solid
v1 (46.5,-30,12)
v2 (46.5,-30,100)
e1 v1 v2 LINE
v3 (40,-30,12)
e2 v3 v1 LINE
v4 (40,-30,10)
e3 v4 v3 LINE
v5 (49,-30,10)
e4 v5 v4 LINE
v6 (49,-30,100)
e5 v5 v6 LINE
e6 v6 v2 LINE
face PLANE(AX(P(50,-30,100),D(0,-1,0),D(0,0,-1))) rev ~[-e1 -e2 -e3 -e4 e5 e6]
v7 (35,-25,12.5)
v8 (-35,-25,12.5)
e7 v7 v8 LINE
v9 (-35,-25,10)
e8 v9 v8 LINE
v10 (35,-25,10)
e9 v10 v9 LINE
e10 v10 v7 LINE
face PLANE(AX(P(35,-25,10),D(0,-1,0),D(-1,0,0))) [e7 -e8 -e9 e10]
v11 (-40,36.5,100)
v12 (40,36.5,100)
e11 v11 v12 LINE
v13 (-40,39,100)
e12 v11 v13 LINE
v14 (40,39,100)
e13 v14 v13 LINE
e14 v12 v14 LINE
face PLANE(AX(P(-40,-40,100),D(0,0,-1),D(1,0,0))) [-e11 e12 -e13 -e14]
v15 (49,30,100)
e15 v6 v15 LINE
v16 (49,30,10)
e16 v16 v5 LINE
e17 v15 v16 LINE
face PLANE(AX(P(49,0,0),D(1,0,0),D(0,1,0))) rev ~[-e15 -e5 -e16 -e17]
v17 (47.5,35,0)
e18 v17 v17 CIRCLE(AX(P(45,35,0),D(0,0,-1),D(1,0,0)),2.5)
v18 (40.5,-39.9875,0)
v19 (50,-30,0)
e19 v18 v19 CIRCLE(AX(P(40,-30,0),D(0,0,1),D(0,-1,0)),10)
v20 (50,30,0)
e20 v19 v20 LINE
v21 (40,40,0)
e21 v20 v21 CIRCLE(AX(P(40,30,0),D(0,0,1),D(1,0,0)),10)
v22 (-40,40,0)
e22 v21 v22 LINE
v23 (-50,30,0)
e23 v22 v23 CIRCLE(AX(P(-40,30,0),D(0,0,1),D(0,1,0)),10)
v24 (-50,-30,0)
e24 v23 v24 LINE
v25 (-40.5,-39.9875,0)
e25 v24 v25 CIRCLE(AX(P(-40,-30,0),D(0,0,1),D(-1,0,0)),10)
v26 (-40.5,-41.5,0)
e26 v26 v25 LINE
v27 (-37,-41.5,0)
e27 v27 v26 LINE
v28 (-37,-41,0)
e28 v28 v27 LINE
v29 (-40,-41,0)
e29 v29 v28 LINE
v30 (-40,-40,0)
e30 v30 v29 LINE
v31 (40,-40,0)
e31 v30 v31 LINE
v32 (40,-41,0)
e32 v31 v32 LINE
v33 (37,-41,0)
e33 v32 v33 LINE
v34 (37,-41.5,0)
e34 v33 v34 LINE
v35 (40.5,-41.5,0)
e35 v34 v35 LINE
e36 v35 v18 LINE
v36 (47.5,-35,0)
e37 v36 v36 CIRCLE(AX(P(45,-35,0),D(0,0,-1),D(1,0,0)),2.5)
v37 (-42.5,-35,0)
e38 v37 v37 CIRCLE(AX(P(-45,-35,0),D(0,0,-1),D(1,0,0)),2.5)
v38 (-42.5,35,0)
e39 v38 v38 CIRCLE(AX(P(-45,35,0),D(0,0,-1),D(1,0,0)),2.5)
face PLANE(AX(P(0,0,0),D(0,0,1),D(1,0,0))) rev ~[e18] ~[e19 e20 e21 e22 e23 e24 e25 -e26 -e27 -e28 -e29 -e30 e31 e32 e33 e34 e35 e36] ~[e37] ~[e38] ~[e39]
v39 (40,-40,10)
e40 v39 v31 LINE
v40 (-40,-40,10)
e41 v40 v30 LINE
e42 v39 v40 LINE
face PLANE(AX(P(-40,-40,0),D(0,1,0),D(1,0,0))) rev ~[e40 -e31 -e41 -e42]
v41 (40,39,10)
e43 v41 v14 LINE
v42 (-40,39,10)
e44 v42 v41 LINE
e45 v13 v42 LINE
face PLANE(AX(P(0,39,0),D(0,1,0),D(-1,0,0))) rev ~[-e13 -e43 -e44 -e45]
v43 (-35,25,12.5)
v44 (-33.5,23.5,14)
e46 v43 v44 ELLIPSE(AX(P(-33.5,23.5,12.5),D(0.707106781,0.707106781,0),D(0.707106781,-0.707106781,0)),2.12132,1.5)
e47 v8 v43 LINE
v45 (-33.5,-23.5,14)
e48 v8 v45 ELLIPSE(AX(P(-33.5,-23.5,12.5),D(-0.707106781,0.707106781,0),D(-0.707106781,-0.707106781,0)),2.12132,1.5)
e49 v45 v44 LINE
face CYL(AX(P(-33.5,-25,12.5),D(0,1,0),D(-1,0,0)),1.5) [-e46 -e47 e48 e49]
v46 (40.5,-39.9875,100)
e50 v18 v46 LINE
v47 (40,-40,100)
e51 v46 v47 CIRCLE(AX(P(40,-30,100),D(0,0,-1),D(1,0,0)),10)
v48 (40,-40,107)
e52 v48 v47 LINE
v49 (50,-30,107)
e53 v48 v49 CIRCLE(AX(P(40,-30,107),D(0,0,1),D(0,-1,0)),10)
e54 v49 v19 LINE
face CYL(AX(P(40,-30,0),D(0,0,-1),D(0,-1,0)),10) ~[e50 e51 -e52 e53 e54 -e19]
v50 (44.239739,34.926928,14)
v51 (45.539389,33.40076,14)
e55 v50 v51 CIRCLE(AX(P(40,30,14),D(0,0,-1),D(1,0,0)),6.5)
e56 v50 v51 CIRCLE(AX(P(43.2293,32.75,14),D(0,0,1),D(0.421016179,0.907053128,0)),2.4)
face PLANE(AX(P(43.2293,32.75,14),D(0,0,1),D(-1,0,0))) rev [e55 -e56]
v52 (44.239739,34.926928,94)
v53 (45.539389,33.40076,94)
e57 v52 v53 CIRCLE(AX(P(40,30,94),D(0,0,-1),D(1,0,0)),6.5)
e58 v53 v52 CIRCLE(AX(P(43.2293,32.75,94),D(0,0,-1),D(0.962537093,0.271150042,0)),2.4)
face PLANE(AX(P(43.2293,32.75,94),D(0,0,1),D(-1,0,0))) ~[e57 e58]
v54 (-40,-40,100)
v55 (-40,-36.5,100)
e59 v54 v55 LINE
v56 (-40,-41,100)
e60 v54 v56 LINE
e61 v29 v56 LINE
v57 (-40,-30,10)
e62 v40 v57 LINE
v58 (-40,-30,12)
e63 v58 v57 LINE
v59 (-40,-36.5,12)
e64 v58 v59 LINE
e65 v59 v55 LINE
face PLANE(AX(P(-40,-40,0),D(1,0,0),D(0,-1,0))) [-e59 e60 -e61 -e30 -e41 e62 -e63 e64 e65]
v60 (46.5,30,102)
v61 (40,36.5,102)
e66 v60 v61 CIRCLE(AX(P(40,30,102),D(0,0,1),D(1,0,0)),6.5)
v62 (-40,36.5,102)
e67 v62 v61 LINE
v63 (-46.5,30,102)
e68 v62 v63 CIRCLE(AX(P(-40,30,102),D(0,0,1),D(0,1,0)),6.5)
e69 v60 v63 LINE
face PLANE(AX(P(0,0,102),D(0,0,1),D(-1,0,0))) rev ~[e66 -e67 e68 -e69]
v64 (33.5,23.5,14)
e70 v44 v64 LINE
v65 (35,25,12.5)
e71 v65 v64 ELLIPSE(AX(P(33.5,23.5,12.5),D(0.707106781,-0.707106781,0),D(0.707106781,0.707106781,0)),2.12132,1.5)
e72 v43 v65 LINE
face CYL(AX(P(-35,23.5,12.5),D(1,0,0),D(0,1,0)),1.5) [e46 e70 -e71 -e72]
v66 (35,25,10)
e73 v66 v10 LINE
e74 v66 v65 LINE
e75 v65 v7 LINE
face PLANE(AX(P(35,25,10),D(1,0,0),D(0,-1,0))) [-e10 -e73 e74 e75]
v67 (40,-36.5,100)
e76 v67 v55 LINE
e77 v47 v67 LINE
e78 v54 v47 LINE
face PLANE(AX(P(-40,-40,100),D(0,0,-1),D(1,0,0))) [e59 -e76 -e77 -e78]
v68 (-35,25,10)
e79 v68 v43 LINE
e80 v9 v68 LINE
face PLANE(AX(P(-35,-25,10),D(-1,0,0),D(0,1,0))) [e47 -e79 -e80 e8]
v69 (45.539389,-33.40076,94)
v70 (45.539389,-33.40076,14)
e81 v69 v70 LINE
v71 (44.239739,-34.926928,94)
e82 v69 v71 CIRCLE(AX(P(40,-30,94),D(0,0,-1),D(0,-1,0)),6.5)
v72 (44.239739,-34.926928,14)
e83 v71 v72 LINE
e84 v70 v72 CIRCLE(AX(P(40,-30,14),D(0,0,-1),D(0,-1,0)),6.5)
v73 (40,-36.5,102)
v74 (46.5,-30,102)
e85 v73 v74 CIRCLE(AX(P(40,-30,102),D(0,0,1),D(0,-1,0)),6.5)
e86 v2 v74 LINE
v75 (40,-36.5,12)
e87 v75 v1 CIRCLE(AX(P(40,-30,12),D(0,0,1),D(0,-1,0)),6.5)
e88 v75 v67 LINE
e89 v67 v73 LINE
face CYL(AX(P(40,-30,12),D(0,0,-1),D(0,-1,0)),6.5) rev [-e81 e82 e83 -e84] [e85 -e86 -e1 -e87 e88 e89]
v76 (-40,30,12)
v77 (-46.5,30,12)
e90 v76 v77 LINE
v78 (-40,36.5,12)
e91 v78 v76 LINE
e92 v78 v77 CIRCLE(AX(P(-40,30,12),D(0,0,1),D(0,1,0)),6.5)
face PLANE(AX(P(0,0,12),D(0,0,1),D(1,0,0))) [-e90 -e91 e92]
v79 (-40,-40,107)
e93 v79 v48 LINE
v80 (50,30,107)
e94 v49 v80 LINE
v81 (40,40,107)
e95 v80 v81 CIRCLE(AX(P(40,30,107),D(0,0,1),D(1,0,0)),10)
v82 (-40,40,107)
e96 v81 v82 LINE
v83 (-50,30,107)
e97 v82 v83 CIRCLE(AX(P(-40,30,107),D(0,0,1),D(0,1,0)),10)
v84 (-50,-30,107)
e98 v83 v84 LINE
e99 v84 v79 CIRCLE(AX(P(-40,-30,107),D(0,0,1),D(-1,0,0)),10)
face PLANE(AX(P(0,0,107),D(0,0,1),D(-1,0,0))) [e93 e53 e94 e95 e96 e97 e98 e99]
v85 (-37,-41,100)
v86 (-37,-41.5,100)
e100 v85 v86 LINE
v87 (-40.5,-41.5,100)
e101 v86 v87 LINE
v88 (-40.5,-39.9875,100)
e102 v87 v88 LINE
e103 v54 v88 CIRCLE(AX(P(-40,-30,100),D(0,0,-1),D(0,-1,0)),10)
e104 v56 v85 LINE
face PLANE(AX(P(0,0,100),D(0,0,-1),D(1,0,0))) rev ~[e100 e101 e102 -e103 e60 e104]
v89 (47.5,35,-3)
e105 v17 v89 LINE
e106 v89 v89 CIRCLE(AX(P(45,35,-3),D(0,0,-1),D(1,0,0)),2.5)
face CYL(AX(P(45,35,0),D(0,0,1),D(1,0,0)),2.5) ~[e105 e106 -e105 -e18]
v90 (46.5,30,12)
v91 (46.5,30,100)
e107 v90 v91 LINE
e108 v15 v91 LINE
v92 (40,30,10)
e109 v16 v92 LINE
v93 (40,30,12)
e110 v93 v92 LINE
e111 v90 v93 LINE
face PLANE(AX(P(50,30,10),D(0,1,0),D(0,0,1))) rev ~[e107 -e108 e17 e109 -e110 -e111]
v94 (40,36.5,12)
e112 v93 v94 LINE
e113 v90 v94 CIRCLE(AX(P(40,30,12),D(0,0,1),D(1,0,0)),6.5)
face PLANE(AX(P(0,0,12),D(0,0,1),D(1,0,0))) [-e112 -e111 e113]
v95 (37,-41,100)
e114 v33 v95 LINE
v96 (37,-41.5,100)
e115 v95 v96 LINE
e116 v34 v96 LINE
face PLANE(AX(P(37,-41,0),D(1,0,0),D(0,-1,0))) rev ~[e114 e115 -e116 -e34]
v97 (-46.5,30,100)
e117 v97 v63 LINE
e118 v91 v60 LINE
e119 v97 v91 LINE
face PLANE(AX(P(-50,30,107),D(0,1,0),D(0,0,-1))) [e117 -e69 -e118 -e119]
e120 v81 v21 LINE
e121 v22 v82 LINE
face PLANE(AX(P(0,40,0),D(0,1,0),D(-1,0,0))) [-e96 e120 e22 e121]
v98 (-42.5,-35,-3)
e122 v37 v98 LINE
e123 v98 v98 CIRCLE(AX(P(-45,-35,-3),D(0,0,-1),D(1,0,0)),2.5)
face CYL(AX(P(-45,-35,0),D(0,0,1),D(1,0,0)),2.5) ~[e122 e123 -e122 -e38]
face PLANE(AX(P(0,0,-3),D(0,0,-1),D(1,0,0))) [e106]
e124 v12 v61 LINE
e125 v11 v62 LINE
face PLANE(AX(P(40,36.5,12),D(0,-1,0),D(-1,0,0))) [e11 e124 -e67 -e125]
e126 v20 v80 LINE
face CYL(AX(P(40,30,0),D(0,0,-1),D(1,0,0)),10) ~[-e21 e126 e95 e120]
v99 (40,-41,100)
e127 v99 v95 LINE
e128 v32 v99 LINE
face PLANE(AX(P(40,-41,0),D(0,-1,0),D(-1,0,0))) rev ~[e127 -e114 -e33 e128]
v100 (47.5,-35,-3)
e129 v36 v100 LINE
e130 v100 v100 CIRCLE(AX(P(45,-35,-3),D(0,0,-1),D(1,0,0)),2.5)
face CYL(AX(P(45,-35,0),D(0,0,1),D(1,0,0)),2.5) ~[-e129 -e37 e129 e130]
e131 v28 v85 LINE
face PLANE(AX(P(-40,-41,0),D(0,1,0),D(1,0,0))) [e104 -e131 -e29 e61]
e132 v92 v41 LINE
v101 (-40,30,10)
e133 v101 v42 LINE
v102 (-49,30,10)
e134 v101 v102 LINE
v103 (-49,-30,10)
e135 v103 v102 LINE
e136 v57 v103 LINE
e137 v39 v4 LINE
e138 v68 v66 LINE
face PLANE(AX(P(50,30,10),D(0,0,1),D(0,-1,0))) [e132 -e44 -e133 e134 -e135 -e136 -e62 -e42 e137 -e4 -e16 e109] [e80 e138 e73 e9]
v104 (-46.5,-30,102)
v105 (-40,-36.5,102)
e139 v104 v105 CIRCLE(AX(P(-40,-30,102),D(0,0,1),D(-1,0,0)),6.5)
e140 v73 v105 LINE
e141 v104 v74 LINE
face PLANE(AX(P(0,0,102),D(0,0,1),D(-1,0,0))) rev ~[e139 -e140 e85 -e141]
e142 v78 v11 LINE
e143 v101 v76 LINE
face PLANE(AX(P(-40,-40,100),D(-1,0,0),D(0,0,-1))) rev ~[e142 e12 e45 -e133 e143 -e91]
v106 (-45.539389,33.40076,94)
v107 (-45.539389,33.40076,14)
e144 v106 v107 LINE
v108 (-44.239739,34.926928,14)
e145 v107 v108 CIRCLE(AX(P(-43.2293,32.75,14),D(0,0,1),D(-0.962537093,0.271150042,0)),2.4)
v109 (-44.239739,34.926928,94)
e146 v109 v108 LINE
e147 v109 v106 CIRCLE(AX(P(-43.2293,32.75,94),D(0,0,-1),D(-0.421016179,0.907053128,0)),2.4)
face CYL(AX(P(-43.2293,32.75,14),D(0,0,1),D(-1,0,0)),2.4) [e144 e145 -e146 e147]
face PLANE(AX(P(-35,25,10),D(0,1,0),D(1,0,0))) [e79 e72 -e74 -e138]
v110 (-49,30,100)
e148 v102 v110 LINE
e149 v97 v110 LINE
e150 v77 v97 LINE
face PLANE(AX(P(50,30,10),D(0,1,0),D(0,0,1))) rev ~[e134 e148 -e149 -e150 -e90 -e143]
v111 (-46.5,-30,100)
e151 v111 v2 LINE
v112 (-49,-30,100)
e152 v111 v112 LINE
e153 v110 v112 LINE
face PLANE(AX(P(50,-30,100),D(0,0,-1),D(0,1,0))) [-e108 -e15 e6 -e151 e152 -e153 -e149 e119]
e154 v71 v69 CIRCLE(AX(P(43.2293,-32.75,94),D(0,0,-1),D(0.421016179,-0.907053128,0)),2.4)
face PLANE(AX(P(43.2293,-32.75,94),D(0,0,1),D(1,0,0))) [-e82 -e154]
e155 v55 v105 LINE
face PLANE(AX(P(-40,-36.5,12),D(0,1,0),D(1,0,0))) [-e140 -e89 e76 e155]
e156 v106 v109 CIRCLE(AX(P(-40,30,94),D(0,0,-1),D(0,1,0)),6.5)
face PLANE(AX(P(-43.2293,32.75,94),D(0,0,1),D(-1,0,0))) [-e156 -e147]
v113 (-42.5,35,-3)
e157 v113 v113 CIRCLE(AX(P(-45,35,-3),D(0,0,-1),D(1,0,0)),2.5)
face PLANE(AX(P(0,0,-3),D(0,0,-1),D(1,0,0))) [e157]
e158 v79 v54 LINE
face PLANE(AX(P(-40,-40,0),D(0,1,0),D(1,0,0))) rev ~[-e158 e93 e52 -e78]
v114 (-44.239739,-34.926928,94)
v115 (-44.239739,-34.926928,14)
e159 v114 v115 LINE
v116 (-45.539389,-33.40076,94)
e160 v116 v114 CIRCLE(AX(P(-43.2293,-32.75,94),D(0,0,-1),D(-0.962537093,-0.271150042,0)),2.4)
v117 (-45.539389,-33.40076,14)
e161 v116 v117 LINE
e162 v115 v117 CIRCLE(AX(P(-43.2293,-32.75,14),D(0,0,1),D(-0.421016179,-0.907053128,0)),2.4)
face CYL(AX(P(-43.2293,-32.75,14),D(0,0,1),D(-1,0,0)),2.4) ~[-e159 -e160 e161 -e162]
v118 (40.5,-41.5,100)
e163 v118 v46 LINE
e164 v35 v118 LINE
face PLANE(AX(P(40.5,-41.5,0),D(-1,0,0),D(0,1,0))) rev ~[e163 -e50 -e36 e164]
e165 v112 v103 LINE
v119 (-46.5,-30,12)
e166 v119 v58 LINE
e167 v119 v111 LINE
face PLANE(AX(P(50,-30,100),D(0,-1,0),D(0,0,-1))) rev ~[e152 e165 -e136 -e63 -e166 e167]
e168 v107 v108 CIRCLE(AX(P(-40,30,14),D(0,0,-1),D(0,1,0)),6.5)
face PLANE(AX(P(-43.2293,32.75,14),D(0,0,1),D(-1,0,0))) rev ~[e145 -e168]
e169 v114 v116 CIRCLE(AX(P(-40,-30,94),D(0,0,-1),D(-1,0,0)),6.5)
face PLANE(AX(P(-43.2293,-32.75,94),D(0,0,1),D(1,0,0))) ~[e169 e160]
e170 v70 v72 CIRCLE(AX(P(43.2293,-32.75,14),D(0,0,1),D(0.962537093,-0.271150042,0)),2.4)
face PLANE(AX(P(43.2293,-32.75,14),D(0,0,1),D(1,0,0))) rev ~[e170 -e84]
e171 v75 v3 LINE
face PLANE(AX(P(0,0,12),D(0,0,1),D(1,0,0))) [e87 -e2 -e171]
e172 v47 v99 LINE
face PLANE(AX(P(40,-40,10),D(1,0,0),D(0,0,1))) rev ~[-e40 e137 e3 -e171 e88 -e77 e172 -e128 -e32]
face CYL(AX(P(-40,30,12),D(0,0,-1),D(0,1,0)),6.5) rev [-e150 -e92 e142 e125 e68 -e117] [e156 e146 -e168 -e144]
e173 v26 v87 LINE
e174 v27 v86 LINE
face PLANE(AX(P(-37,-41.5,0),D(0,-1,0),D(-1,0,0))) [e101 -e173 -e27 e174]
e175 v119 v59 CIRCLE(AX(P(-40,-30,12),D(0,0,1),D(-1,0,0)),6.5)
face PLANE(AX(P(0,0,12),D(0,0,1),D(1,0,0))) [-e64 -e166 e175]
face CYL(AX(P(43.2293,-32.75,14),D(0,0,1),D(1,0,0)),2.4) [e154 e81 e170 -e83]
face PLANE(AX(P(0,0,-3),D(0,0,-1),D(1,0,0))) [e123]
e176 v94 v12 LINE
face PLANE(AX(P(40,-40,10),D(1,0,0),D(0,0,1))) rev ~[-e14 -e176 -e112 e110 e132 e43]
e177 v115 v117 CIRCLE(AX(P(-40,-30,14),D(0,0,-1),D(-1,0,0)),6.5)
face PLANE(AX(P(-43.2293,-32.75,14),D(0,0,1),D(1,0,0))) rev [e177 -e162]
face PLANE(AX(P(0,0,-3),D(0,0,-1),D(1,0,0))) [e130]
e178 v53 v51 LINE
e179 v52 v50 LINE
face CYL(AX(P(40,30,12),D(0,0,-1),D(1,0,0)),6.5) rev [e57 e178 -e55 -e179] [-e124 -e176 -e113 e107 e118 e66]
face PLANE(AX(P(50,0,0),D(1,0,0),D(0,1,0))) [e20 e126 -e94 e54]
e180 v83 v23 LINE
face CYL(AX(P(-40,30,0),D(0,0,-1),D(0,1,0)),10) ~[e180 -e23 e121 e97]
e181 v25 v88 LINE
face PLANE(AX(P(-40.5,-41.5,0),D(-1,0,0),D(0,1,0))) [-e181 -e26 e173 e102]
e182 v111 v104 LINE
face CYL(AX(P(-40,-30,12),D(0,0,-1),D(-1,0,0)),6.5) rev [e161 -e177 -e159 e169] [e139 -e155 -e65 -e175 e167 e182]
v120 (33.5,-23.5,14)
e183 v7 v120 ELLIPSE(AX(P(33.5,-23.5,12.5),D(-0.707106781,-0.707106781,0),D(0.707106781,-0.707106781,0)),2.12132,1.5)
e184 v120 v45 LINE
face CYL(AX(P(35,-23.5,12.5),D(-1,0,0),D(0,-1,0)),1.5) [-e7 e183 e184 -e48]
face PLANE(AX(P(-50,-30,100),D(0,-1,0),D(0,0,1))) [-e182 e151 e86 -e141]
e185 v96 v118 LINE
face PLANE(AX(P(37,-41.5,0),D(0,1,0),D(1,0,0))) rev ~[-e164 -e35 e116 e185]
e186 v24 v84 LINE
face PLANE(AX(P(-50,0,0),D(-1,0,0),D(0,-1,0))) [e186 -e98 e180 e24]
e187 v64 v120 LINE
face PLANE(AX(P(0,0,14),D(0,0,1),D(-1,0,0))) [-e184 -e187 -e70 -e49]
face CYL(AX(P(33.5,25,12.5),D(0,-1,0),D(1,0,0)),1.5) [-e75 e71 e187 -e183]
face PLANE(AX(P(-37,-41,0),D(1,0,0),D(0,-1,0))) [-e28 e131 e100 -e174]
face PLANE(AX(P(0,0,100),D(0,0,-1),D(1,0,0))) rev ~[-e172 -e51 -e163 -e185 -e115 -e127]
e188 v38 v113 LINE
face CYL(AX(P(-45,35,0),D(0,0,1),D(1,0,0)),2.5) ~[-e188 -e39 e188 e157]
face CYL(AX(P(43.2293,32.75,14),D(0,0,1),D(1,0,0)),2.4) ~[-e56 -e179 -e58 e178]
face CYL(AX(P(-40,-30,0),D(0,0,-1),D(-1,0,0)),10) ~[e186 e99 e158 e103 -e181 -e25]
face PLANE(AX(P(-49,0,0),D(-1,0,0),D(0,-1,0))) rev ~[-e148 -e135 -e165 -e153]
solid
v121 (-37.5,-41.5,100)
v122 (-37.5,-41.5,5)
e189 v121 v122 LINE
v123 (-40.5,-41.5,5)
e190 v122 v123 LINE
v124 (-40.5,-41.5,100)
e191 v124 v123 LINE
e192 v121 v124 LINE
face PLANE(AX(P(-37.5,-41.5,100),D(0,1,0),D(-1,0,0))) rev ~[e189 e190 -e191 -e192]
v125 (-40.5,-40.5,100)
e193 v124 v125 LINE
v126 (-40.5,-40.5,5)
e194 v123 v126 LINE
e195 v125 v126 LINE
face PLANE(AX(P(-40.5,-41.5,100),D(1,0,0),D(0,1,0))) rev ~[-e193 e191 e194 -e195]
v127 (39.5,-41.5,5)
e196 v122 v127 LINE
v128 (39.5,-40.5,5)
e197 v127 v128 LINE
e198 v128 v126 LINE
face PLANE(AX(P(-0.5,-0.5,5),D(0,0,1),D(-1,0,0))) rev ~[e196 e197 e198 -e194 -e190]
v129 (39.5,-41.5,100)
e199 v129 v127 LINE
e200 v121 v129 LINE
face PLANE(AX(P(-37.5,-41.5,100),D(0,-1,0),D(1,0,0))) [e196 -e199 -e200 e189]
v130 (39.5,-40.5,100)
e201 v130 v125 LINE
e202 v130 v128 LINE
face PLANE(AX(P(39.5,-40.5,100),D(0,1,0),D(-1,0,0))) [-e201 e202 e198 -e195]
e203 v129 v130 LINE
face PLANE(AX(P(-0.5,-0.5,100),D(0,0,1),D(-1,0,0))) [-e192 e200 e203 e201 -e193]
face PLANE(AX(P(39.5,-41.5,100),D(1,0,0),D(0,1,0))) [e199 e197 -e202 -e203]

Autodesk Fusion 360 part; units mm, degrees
sketch "Sketch1" plane through (0, 0, 0) normal (0, 0, 1) x (1, 0, 0)
  line L0 (40, 40) -> (-40, 40)
  line L1 (-50, 30) -> (-50, -30)
  line L2 (-40, -40) -> (40, -40)
  line L3 (50, -30) -> (50, 30)
  line L4 (50, 40) -> (-50, -40) construction
  line L5 (-50, 40) -> (50, -40) construction
  arc A0 (-40, 40) -> (-50, 30) centre (-40, 30) ccw
  arc A1 (50, 30) -> (40, 40) centre (40, 30) ccw
  arc A2 (40, -40) -> (50, -30) centre (40, -30) ccw
  arc A3 (-50, -30) -> (-40, -40) centre (-40, -30) ccw
  dimension "d1" = 100
  dimension "d2" = 80
  dimension "d3" = 10
  dimension "d4" = 10
extrude "Extrude1" add sketch "Sketch1" along normal blind 12 makes body 1
sketch "Sketch2" plane through (0, 0, 12) normal (0, 0, 1) x (-1, 0, 0)
  arc A0 (50, 30) -> (40, 40) centre (40, 30) ccw
  line L0 (40, 40) -> (-40, 40)
  arc A1 (-40, 40) -> (-50, 30) centre (-40, 30) ccw
  line L1 (-50, 30) -> (-50, -30)
  arc A2 (-50, -30) -> (-40, -40) centre (-40, -30) ccw
  line L2 (-40, -40) -> (40, -40)
  arc A3 (40, -40) -> (50, -30) centre (40, -30) ccw
  line L3 (50, -30) -> (50, 30)
  line L4 (46.5, -30) -> (46.5, 30)
  arc A4 (46.5, 30) -> (40, 36.5) centre (40, 30) ccw
  line L5 (40, 36.5) -> (-40, 36.5)
  arc A5 (-40, 36.5) -> (-46.5, 30) centre (-40, 30) ccw
  line L6 (-46.5, 30) -> (-46.5, -30)
  arc A6 (-46.5, -30) -> (-40, -36.5) centre (-40, -30) ccw
  line L7 (-40, -36.5) -> (40, -36.5)
  arc A7 (40, -36.5) -> (46.5, -30) centre (40, -30) ccw
  dimension "d7" = -3.5
extrude "Extrude2" add sketch "Sketch2" along normal blind 95 bodies 1
sketch "Sketch3" plane through (50, 0, 0) normal (1, 0, 0) x (0, 1, 0)
  line L0 (-30, 0) -> (30, 0)
  line L1 (30, 0) -> (30, 107)
  line L2 (30, 107) -> (-30, 107)
  line L3 (-30, 107) -> (-30, 0)
  line L4 (-30, 100) -> (30, 100)
  line L5 (30, 100) -> (30, 10)
  line L6 (30, 10) -> (-30, 10)
  line L7 (-30, 10) -> (-30, 100)
  dimension "d10" = 60
  dimension "d11" = 90
extrude "Extrude3" cut sketch "Sketch3" against normal blind 170 contours L1 L3 L4 L5 L6 L7 bodies 1
sketch "Sketch4" plane through (0, -40, 0) normal (0, -1, 0) x (1, 0, 0)
  line L0 (-40, 0) -> (40, 0)
  line L1 (40, 0) -> (40, 107)
  line L2 (40, 107) -> (-40, 107)
  line L3 (-40, 107) -> (-40, 0)
  line L4 (-40, 100) -> (40, 100)
  line L5 (40, 100) -> (40, 10)
  line L6 (40, 10) -> (-40, 10)
  line L7 (-40, 10) -> (-40, 100)
  dimension "d14" = 80
  dimension "d15" = 90
extrude "Extrude4" cut sketch "Sketch4" against normal blind 135 contours L1 L3 L4 L5 L6 L7 bodies 1
sketch "Sketch5" plane through (0, 0, 10) normal (0, 0, 1) x (-1, 0, 0)
  line L0 (-40, 30) -> (-50, 30)
  line L1 (-50, 30) -> (-50, -30)
  line L2 (-50, -30) -> (-40, -30)
  line L3 (-40, -30) -> (-40, -40)
  line L4 (-40, -40) -> (40, -40)
  line L5 (40, -40) -> (40, -30)
  line L6 (40, -30) -> (50, -30)
  line L7 (50, -30) -> (50, 30)
  line L8 (50, 30) -> (40, 30)
  line L9 (40, 30) -> (40, 40)
  line L10 (40, 40) -> (-40, 40)
  line L11 (-40, 40) -> (-40, 30)
  line L12 (35, -25) -> (-35, -25)
  line L13 (-35, -25) -> (-35, 25)
  line L14 (-35, 25) -> (35, 25)
  line L15 (35, 25) -> (35, -25)
  dimension "d18" = 70
  dimension "d19" = 50
extrude "Extrude5" add sketch "Sketch5" along normal blind 4 contours L12 L13 L14 L15 bodies 1
fillet "Fillet1" radius 1.5 1 faces at (-11.6667, 8.3333, 14) on bodies 1
cylinder "CylinderPrimitive1" add diameter 4.8 height 80 placed x (1, 0, 0) y (0, 1, 0) z (0, 0, 1) at (43.2293, -32.75, 14) bodies 1
mirror "Mirror1" about plane through (0, 0, 0) normal (1, 0, 0) of "CylinderPrimitive1"
mirror "Mirror2" about plane through (0, 0, 0) normal (0, 1, 0) of "Mirror1", "CylinderPrimitive1"
sketch "Sketch7" plane through (50, 0, 0) normal (1, 0, 0) x (0, 1, 0)
  line L0 (-30, 100) -> (30, 100)
  line L1 (30, 100) -> (30, 107)
  line L2 (30, 107) -> (-30, 107)
  line L3 (-30, 107) -> (-30, 100)
  line L4 (-30, 100) -> (30, 100)
  line L5 (30, 100) -> (30, 10)
  line L6 (30, 10) -> (-30, 10)
  line L7 (-30, 10) -> (-30, 100)
sketch "Sketch8" plane through (0, 40, 0) normal (0, 1, 0) x (-1, 0, 0)
  line L0 (-40, 100) -> (40, 100)
  line L1 (40, 100) -> (40, 107)
  line L2 (40, 107) -> (-40, 107)
  line L3 (-40, 107) -> (-40, 100)
  line L4 (-40, 100) -> (40, 100)
  line L5 (40, 100) -> (40, 10)
  line L6 (40, 10) -> (-40, 10)
  line L7 (-40, 10) -> (-40, 100)
sketch "Sketch9" plane through (-50, 0, 0) normal (-1, 0, 0) x (0, -1, 0)
  line L0 (-30, 100) -> (30, 100)
  line L1 (30, 100) -> (30, 107)
  line L2 (30, 107) -> (-30, 107)
  line L3 (-30, 107) -> (-30, 100)
  line L4 (-30, 100) -> (30, 100)
  line L5 (30, 100) -> (30, 10)
  line L6 (30, 10) -> (-30, 10)
  line L7 (-30, 10) -> (-30, 100)
extrude "Extrude6" add sketch "Sketch9" against normal blind 1 contours L0 L4 L5 L6 L7 bodies 1
extrude "Extrude7" add sketch "Sketch8" against normal blind 1 contours L0 L4 L5 L6 L7 bodies 1
extrude "Extrude8" add sketch "Sketch7" against normal blind 1 contours L0 L4 L5 L6 L7 bodies 1
sketch "Sketch10" plane through (0, 0, 107) normal (0, 0, 1) x (-1, 0, 0)
  arc A0 (40, -36.5) -> (46.5, -30) centre (40, -30) ccw
  line L0 (40, -36.5) -> (-40, -36.5)
  arc A1 (-46.5, -30) -> (-40, -36.5) centre (-40, -30) ccw
  line L1 (-46.5, -30) -> (-46.5, 30)
  arc A2 (-40, 36.5) -> (-46.5, 30) centre (-40, 30) ccw
  line L2 (-40, 36.5) -> (40, 36.5)
  arc A3 (46.5, 30) -> (40, 36.5) centre (40, 30) ccw
  line L3 (46.5, 30) -> (46.5, -30)
  line L4 (50, -30) -> (50, 30)
  arc A4 (50, 30) -> (40, 40) centre (40, 30) ccw
  line L5 (40, 40) -> (-40, 40)
  arc A5 (-40, 40) -> (-50, 30) centre (-40, 30) ccw
  line L6 (-50, 30) -> (-50, -30)
  arc A6 (-50, -30) -> (-40, -40) centre (-40, -30) ccw
  line L7 (-40, -40) -> (40, -40)
  arc A7 (40, -40) -> (50, -30) centre (40, -30) ccw
  line L8 (49.0553, -30) -> (49.0553, 30)
  arc A8 (49.0553, 30) -> (40, 39.0553) centre (40, 30) ccw
  line L9 (40, 39.0553) -> (-40, 39.0553)
  arc A9 (-40, 39.0553) -> (-49.0553, 30) centre (-40, 30) ccw
  line L10 (-49.0553, 30) -> (-49.0553, -30)
  arc A10 (-49.0553, -30) -> (-40, -39.0553) centre (-40, -30) ccw
  line L11 (-40, -39.0553) -> (40, -39.0553)
  arc A11 (40, -39.0553) -> (49.0553, -30) centre (40, -30) ccw
  dimension "d36" = -0.9447
extrude "Extrude9" add sketch "Sketch10" against normal blind 5 contours A0 L0 A1 L1 A2 L2 A3 L3 bodies 1
sketch "Sketch11" plane through (-50, 0, 0) normal (-1, 0, 0) x (0, -1, 0)
  line L0 (30, 0) -> (30, 107)
  line L1 (30, 107) -> (-30, 107)
  line L2 (-30, 107) -> (-30, 0)
  line L3 (-30, 0) -> (30, 0)
  line L4 (-30, 100) -> (30, 100)
  line L5 (-30, 100) -> (-30, 107)
  line L6 (30, 107) -> (30, 100)
  line L7 (30, 107) -> (-30, 107)
extrude "Extrude10" add sketch "Sketch11" against normal blind 100 contours L0 L1 L2 L4 L5 L6 L7 bodies 1
sketch "Sketch12" plane through (0, 0, 0) normal (0, 0, -1) x (1, 0, 0)
  arc A0 (-40, 40) -> (-50, 30) centre (-40, 30) ccw
  line L0 (-50, 30) -> (-50, -30)
  arc A1 (-50, -30) -> (-40, -40) centre (-40, -30) ccw
  line L1 (-40, -40) -> (40, -40)
  arc A2 (40, -40) -> (50, -30) centre (40, -30) ccw
  line L2 (50, -30) -> (50, 30)
  arc A3 (50, 30) -> (40, 40) centre (40, 30) ccw
  line L3 (40, 40) -> (-40, 40)
  line L4 (-40, 40) -> (-40, 41)
  line L5 (-40, 41) -> (-37, 41)
  line L6 (-37, 41) -> (-37, 41.5)
  line L7 (-37, 41.5) -> (-40.5, 41.5)
  line L8 (-40.5, 41.5) -> (-40.5, 39.9875)
  line L9 (-40.5, 39.9875) -> (-40, 40)
  line L10 (0, 54) -> (0, 19) construction
  line L11 (37, 41.5) -> (40.5, 41.5)
  line L12 (40.5, 41.5) -> (40.5, 39.9875)
  line L13 (40, 40) -> (40, 41)
  line L14 (40, 41) -> (37, 41)
  line L15 (37, 41) -> (37, 41.5)
  line L16 (40.5, 39.9875) -> (40, 40)
extrude "Extrude11" add sketch "Sketch12" against normal blind 100 contours A0 L4 L5 L6 L7 L8 | A3 L11 L12 L13 L14 L15 bodies 1
sketch "Sketch13" plane through (0, 0, 100) normal (0, 0, 1) x (-1, 0, 0)
  line L0 (40, 41) -> (40, 40)
  arc A0 (40.5, 39.9875) -> (40, 40) centre (40, 30) ccw
  line L1 (40.5, 39.9875) -> (40.5, 41.5)
  line L2 (40.5, 41.5) -> (37, 41.5)
  line L3 (37, 41.5) -> (37, 41)
  line L4 (37, 41) -> (40, 41)
  line L5 (40, 41) -> (-40, 41)
  line L6 (-40, 41) -> (-40, 40)
  line L7 (-40, 40) -> (40, 40)
  line L8 (40, 40) -> (40, 41)
extrude "Extrude1'" add sketch "Sketch13" against normal blind 95 separate body contours L0 L4 L5 L6 L7 L8 makes body 2 in component "Component"
sketch "Sketch14" plane through (0, 0, 0) normal (0, 0, -1) x (1, 0, 0)
  arc A0 (-40.5, 39.9875) -> (-50, 30) centre (-40, 30) ccw
  line L0 (-50, 30) -> (-50, -30)
  arc A1 (-50, -30) -> (-40, -40) centre (-40, -30) ccw
  line L1 (-40, -40) -> (40, -40)
  arc A2 (40, -40) -> (50, -30) centre (40, -30) ccw
  line L2 (50, -30) -> (50, 30)
  arc A3 (50, 30) -> (40.5, 39.9875) centre (40, 30) ccw
  line L3 (40.5, 39.9875) -> (40.5, 41.5)
  line L4 (40.5, 41.5) -> (37, 41.5)
  line L5 (37, 41.5) -> (37, 41)
  line L6 (37, 41) -> (40, 41)
  line L7 (40, 41) -> (40, 40)
  line L8 (40, 40) -> (-40, 40)
  line L9 (-40, 40) -> (-40, 41)
  line L10 (-40, 41) -> (-37, 41)
  line L11 (-37, 41) -> (-37, 41.5)
  line L12 (-37, 41.5) -> (-40.5, 41.5)
  line L13 (-40.5, 41.5) -> (-40.5, 39.9875)
  circle A4 centre (-45, 35) radius 2.5
  circle A5 centre (45, 35) radius 2.5
  circle A6 centre (-45, -35) radius 2.5
  circle A7 centre (45, -35) radius 2.5
  dimension "d51" = 5
  dimension "d52" = 5
  dimension "d53" = 5
  dimension "d54" = 5
extrude "Extrude12" add sketch "Sketch14" along normal blind 3 contours A4 | A5 | A6 | A7 bodies 1
component "Component" placed x (1, 0, 0) y (0, 1, 0) z (0, 0, 1) at (-0.5, -0.5, 0)
